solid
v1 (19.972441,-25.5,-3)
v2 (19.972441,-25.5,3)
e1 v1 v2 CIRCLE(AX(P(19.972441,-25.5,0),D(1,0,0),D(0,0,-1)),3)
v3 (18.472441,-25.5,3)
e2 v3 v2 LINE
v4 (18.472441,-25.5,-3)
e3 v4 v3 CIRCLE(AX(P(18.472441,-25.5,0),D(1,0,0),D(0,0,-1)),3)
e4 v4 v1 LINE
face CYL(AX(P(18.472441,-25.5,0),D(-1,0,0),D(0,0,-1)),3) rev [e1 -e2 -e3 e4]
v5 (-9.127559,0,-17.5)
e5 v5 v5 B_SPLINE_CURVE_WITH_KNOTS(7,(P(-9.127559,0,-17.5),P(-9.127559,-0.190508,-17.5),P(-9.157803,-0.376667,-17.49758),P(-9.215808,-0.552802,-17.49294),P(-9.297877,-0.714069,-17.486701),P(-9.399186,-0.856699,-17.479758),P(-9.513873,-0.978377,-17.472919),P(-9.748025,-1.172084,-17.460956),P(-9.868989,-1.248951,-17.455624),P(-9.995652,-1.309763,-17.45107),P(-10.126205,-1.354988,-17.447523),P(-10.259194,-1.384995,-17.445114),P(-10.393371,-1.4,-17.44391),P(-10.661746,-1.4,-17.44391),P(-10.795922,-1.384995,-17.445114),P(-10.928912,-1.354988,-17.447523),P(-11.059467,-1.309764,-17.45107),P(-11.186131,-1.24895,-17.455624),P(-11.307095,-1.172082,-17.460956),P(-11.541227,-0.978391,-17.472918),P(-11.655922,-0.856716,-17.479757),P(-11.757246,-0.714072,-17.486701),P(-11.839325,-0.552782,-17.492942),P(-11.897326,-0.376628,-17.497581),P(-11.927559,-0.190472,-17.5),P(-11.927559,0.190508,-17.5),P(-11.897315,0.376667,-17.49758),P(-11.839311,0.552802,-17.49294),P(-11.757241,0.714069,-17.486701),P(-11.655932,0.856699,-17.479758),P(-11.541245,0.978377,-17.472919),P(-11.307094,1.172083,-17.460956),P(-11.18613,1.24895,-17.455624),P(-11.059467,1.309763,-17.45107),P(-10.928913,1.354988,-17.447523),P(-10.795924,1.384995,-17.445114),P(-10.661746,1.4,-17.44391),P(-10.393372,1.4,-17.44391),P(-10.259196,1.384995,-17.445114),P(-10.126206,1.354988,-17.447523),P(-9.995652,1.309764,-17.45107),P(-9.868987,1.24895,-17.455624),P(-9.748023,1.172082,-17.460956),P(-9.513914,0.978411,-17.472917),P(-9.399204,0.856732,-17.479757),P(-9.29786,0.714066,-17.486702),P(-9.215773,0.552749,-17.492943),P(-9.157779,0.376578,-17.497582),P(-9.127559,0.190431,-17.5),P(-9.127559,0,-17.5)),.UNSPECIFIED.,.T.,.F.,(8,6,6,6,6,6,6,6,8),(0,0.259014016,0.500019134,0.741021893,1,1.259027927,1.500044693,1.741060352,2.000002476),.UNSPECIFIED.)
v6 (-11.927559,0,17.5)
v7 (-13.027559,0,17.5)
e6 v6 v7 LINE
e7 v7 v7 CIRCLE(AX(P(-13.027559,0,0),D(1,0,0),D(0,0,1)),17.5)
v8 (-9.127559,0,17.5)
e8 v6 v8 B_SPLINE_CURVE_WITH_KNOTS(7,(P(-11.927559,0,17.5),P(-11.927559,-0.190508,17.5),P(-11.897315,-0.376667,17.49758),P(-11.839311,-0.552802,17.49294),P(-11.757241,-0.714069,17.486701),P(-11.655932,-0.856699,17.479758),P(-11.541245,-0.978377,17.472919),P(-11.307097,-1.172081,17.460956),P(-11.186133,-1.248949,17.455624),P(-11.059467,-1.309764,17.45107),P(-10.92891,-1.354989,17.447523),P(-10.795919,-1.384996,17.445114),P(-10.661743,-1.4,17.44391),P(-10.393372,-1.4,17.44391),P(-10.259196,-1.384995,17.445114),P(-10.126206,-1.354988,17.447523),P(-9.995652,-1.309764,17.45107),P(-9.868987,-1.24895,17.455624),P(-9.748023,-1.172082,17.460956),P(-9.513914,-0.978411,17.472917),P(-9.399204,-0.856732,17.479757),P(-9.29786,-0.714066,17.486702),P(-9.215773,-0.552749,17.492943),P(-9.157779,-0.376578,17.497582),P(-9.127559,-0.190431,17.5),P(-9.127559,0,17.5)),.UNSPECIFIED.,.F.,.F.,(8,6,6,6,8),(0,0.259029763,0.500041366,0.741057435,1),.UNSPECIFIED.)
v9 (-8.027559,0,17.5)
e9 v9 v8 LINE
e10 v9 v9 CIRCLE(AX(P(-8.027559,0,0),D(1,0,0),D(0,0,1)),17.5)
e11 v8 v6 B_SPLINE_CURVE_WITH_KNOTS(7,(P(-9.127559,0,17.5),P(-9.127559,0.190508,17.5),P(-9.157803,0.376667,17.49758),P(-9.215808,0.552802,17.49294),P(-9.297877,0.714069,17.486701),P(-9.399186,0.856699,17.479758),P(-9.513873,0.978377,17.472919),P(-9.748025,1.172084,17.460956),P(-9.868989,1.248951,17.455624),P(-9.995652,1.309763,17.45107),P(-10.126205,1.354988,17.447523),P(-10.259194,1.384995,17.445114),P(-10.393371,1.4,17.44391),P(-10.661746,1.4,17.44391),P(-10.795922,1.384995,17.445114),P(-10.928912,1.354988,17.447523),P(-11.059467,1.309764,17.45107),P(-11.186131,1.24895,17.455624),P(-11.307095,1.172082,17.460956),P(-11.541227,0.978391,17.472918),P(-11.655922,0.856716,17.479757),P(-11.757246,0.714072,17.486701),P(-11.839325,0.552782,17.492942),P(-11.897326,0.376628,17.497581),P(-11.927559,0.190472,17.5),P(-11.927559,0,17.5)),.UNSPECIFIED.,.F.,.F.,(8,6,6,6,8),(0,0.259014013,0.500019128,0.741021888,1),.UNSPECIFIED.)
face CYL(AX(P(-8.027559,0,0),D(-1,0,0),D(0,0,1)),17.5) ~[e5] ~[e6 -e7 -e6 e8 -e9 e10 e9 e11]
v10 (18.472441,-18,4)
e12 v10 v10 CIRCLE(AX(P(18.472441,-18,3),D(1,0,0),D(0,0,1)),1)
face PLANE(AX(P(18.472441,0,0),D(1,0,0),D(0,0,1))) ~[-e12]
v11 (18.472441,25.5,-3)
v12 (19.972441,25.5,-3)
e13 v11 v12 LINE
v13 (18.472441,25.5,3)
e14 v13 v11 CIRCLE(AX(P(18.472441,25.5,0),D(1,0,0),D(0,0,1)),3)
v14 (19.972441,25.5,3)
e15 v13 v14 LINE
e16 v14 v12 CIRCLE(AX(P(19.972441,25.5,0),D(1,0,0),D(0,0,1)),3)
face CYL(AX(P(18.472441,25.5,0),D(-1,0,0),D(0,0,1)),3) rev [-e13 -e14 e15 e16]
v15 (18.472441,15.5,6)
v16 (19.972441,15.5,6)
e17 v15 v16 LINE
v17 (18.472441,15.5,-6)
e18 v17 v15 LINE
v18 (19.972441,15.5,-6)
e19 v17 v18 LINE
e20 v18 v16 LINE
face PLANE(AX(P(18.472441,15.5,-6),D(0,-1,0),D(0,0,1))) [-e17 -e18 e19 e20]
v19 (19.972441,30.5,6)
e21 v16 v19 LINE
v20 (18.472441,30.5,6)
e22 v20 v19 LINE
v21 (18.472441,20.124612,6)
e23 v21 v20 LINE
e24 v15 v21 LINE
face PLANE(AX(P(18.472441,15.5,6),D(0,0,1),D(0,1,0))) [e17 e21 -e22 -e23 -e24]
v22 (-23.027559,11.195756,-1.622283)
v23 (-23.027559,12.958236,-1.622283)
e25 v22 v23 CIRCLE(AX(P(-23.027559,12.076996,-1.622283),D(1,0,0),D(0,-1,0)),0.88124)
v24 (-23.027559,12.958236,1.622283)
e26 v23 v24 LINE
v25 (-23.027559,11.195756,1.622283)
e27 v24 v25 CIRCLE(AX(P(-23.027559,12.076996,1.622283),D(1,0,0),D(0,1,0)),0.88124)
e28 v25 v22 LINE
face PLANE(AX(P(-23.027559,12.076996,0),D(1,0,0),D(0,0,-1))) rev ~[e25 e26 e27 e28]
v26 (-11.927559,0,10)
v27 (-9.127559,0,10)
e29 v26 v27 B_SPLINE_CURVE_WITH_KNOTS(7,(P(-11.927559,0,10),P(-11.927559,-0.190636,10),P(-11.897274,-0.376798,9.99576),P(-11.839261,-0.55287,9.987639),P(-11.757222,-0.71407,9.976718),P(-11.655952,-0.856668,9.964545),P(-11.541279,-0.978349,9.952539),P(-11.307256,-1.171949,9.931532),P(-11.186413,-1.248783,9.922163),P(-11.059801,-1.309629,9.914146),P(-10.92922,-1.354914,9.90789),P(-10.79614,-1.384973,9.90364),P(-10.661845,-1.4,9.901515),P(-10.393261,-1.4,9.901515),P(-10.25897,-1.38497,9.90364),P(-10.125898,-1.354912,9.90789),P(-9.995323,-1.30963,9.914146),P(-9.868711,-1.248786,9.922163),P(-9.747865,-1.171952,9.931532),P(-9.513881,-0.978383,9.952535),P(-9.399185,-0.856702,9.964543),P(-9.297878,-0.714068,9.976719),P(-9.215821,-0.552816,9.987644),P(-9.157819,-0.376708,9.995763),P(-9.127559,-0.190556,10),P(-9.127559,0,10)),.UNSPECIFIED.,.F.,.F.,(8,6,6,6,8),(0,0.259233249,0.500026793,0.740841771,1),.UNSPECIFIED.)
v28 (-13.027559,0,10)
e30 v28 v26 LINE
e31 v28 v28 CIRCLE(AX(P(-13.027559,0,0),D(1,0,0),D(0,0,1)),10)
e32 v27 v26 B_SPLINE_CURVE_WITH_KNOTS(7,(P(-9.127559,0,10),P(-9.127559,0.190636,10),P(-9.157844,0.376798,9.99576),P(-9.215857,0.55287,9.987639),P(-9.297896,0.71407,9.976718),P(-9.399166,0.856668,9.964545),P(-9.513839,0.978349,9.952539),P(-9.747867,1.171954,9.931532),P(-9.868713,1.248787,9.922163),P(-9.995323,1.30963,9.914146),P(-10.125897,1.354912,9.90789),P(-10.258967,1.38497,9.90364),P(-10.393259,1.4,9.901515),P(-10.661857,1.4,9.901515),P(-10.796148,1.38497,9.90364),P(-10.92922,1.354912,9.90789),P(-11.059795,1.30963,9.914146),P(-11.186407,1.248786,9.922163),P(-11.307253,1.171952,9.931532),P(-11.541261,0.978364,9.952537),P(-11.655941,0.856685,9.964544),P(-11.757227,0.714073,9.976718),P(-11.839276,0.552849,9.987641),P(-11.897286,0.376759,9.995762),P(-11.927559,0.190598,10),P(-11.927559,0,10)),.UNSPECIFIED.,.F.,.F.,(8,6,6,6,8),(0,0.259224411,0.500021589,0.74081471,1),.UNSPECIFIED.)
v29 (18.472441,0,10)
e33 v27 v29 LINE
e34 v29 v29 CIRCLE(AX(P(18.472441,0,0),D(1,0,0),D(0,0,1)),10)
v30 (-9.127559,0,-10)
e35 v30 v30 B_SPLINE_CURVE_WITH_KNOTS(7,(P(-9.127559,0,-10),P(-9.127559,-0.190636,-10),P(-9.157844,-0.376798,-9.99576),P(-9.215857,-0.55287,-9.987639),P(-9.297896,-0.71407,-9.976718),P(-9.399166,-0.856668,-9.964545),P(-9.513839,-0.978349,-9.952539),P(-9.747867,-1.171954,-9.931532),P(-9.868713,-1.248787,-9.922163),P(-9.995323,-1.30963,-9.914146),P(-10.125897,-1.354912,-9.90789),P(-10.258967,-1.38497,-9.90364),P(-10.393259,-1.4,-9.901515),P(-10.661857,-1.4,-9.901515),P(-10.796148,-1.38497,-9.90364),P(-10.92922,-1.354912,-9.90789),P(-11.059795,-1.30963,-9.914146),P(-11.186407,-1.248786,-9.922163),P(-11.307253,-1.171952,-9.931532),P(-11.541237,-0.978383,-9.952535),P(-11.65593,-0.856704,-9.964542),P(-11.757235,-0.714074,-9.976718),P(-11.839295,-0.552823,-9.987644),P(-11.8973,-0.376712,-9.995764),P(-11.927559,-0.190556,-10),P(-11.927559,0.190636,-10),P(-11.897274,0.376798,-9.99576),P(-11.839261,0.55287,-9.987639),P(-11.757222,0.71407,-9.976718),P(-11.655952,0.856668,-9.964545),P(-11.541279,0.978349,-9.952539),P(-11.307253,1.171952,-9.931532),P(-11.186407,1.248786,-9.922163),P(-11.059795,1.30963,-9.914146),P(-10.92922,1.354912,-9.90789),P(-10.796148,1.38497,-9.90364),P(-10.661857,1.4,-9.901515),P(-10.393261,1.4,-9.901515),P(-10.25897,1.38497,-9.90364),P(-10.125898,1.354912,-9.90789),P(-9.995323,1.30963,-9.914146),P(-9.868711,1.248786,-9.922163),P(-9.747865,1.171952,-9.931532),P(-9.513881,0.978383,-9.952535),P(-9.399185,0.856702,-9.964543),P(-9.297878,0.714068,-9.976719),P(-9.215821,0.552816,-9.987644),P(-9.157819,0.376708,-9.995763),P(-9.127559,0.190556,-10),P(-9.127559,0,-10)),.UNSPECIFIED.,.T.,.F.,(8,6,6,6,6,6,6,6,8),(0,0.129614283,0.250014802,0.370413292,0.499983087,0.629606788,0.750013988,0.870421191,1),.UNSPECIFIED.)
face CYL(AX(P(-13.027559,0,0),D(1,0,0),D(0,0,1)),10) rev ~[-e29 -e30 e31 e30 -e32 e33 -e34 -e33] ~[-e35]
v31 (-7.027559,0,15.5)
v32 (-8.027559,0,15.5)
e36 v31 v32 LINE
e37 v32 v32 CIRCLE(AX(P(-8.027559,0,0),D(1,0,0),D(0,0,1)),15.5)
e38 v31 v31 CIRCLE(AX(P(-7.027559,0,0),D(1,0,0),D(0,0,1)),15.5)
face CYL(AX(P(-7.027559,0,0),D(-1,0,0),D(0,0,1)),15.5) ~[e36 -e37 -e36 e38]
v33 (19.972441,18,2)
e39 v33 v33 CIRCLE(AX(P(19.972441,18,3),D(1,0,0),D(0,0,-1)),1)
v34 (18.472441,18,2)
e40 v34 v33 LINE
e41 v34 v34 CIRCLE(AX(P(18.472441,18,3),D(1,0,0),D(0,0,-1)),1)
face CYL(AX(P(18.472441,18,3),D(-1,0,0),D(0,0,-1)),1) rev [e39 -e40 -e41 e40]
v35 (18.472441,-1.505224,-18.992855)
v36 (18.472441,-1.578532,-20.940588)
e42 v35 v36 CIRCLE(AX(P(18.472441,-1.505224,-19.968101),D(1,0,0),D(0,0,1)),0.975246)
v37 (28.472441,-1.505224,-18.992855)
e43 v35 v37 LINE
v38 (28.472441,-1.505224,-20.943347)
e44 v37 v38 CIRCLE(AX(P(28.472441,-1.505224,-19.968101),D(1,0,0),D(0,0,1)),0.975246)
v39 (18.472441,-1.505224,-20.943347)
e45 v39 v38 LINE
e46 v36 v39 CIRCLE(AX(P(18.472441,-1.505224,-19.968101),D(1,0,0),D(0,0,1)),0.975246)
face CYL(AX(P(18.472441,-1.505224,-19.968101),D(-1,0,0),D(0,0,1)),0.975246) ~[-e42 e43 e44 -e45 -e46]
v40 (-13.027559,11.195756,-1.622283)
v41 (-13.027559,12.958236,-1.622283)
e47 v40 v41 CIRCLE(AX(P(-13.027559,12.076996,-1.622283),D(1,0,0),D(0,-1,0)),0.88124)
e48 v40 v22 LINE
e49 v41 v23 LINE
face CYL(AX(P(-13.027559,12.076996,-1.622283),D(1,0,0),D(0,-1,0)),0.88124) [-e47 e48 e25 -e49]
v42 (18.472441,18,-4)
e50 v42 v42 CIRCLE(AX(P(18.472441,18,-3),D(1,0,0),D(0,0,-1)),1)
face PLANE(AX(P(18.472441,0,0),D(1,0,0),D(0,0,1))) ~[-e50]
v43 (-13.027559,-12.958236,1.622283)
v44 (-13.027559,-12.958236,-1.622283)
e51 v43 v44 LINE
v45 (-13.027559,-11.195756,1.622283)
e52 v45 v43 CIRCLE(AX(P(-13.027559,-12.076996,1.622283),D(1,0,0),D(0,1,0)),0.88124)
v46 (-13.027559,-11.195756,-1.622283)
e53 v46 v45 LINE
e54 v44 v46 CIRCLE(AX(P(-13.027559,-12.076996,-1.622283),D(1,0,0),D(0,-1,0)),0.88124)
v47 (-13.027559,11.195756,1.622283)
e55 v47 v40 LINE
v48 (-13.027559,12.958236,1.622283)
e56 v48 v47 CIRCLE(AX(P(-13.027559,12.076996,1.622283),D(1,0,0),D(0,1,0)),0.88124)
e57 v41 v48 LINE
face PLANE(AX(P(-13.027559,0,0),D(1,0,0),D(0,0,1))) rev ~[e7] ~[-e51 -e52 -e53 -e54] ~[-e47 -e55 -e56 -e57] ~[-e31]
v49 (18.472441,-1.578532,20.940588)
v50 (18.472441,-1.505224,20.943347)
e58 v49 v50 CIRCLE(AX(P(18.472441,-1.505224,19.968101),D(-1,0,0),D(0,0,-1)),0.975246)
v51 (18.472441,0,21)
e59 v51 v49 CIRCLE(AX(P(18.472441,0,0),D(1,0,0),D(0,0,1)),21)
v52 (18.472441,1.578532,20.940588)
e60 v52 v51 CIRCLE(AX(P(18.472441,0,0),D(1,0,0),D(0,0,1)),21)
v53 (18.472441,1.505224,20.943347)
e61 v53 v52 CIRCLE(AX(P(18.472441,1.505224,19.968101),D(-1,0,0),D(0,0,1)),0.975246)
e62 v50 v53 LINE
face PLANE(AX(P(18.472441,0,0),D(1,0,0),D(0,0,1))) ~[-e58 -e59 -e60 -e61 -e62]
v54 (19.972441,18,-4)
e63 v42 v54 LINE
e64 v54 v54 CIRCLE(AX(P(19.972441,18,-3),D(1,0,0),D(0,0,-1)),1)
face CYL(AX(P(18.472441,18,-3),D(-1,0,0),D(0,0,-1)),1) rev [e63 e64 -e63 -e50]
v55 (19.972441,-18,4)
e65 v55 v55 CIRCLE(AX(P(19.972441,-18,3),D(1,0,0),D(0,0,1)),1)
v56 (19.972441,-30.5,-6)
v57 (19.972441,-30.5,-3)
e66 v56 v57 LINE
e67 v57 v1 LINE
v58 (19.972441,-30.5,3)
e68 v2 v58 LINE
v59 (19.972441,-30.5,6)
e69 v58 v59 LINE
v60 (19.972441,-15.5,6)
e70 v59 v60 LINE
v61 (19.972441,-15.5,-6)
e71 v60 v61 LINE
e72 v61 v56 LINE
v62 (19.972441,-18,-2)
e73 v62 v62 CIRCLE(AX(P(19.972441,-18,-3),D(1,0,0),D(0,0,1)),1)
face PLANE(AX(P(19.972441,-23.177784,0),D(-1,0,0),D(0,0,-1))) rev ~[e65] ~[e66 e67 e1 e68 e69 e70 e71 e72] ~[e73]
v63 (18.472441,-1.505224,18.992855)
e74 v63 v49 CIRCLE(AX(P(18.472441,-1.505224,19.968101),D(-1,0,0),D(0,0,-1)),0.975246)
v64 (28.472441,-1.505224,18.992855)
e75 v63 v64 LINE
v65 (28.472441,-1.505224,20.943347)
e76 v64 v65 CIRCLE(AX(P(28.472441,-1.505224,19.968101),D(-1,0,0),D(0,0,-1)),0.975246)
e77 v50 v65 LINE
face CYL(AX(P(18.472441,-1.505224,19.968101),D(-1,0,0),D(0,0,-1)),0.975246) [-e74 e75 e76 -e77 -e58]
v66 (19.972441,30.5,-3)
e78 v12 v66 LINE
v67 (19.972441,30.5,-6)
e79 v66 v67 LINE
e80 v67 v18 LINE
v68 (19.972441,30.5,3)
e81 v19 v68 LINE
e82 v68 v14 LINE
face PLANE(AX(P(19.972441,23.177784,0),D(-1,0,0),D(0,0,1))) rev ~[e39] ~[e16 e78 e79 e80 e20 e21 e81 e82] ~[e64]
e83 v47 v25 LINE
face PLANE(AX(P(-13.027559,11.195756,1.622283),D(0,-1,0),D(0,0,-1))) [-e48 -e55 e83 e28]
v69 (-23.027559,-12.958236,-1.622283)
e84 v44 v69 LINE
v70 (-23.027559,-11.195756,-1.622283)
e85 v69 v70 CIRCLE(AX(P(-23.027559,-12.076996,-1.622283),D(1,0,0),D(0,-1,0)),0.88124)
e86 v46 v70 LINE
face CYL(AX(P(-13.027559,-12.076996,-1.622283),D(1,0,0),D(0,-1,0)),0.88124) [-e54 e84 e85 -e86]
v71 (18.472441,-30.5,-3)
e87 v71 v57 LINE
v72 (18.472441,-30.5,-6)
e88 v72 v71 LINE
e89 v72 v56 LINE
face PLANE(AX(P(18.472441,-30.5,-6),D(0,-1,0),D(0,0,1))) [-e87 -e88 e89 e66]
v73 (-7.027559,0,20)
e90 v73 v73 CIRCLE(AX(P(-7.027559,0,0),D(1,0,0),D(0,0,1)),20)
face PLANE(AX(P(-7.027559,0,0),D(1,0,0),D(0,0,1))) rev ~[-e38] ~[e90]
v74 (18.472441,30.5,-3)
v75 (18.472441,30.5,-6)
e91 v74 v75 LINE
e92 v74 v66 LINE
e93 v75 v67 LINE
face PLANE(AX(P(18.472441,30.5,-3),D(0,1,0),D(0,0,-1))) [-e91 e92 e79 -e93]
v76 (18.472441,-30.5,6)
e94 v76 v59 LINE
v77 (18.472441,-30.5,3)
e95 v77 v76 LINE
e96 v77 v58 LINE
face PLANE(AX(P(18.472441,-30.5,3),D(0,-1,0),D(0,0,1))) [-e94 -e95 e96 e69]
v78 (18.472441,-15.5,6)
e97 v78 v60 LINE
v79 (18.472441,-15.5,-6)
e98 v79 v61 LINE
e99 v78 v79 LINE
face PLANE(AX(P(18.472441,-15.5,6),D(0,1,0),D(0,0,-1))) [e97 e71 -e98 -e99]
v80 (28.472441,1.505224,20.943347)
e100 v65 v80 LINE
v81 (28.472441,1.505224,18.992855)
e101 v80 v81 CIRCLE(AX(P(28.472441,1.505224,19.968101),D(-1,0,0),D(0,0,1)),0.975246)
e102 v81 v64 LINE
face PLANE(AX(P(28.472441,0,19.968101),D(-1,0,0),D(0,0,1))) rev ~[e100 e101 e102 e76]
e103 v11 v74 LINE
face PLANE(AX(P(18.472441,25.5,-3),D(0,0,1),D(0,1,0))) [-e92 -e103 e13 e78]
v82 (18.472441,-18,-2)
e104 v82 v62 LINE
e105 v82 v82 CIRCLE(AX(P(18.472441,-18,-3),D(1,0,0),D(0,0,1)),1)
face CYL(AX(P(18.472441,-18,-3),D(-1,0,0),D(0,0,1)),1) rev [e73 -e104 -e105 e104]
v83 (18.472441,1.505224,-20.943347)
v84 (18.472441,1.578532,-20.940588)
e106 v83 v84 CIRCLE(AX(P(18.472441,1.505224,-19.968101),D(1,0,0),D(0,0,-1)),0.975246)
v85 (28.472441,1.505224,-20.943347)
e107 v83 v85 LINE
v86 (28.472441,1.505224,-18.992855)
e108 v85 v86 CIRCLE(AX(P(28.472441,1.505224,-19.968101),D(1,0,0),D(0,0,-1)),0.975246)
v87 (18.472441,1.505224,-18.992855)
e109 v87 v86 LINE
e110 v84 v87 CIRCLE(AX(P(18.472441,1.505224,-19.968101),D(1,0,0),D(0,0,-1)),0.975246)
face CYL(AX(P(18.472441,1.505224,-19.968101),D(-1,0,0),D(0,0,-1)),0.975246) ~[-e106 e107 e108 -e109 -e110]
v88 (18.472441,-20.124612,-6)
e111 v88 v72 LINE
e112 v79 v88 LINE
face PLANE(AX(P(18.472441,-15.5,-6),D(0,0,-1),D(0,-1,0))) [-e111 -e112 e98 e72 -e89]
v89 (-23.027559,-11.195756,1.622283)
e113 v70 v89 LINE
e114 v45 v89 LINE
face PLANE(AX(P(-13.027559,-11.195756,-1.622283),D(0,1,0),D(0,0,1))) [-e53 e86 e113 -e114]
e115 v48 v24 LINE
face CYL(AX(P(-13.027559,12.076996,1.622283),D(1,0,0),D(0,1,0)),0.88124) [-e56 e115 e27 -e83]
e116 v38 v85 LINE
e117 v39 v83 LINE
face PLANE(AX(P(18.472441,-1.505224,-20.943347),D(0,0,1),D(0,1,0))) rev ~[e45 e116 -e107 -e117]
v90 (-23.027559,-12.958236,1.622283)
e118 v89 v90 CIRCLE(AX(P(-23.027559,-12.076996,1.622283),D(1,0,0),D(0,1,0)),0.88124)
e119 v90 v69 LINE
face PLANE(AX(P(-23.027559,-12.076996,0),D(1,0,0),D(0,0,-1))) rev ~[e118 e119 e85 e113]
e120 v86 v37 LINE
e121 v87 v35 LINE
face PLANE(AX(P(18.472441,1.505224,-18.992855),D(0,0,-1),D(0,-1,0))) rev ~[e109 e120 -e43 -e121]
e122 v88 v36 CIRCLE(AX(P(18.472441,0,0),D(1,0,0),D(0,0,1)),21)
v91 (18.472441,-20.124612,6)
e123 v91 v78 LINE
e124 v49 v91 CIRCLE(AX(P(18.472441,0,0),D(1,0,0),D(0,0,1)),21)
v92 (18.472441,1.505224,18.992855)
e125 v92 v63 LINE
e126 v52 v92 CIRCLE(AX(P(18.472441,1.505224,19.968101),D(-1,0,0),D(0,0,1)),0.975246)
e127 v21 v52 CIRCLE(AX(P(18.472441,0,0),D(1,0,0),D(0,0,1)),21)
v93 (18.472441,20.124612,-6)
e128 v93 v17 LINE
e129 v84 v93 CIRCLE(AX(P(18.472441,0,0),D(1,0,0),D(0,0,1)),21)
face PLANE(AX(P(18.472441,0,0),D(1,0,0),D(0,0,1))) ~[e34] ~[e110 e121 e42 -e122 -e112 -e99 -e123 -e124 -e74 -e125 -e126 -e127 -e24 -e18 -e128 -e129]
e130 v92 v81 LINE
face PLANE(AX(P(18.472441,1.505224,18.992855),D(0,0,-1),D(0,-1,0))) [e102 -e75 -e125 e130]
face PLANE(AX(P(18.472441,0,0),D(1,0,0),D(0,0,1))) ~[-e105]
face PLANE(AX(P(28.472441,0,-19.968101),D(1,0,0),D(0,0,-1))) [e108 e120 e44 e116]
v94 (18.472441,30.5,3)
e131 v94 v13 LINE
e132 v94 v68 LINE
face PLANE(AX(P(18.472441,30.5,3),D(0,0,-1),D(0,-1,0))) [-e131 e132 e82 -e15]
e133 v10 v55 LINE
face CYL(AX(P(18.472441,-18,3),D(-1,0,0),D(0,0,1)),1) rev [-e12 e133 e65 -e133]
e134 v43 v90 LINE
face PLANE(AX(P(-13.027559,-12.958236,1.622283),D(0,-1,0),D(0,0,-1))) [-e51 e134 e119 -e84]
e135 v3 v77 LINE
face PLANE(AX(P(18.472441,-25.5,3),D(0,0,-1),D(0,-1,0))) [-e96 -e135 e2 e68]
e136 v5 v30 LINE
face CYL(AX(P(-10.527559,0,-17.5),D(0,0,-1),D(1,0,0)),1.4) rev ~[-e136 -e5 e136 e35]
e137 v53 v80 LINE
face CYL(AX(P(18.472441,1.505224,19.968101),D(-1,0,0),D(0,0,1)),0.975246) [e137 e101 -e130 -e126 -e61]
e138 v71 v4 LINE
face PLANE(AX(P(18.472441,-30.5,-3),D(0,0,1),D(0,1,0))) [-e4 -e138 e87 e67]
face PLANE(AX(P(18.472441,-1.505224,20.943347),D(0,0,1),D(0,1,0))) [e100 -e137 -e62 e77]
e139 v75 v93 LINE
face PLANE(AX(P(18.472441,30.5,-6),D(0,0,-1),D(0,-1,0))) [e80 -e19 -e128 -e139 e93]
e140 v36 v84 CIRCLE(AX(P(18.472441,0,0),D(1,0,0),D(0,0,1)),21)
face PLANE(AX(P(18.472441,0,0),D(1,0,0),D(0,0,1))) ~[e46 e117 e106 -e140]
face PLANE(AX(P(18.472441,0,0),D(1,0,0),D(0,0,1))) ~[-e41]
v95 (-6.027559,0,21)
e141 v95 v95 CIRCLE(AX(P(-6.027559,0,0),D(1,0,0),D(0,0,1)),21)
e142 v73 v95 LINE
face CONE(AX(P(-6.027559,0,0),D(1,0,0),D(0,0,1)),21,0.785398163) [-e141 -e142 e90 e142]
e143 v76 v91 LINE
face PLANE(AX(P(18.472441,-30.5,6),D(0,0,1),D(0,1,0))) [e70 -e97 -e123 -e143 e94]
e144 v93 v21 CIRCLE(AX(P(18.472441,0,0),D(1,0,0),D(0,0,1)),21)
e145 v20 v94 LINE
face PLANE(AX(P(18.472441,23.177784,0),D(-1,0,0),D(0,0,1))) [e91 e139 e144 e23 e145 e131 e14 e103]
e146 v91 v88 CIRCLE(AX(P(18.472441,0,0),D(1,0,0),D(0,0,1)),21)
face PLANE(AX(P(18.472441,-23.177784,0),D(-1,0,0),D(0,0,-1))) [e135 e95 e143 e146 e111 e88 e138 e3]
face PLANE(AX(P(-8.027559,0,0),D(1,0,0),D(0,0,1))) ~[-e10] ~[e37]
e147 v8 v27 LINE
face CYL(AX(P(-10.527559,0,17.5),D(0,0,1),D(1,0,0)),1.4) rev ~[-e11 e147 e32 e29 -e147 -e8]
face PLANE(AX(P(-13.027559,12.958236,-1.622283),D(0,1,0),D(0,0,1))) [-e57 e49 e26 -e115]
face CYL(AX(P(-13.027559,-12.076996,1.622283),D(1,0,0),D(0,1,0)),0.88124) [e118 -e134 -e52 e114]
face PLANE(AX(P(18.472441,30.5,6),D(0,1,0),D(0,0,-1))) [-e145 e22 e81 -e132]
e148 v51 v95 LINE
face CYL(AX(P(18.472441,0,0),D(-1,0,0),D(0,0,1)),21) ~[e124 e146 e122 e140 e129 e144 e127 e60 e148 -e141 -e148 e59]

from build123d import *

# Parameters (mm, degrees)
SKETCH2_R           = 1.4
CUT_EXTRUDE1_DEPTH  = 10
CIRPATTERN1_COUNT   = 2
CHAMFER1_SIZE       = 1
BOSS_EXTRUDE1_DEPTH = 10
BOSS_EXTRUDE2_DEPTH = 10
SKETCH7_R           = 1
BOSS_EXTRUDE3_DEPTH = 1.5
CIRPATTERN2_COUNT   = 2


with BuildPart() as part:
    # Sketch1 → Revolve1 (revolve)
    with BuildSketch(Plane.XY, mode=Mode.PRIVATE) as revolve1_sk:
        Polygon((-13.027559055, 10), (18.472440945, 10), (18.472440945, 21), (-7.027559055, 21), (-7.027559055, 15.5), (-8.027559055, 15.5), (-8.027559055, 17.5), (-13.027559055, 17.5), align=None)
    revolve(revolve1_sk.sketch.rotate(Axis((-13.027559055, 0, 0), (1, 0, 0)), 90), axis=Axis((-13.027559055, 0, 0), (1, 0, 0)))

    # Sketch2 → Cut-Extrude1 (cut)
    with BuildSketch(Plane.XY.offset(17.5)):
        with Locations((-10.527559055, 0)):
            Circle(SKETCH2_R)
    cut_extrude1 = extrude(amount=-CUT_EXTRUDE1_DEPTH, mode=Mode.SUBTRACT)

    # CirPattern1: Cut-Extrude1 ×2 about axis
    cirpattern1_axis = Axis((-13.027559055, 0, 0), (-1, 0, 0))
    for i in range(1, CIRPATTERN1_COUNT):
        add(cut_extrude1.rotate(cirpattern1_axis, i * 360 / CIRPATTERN1_COUNT), mode=Mode.SUBTRACT)

    # Chamfer1
    chamfer1_edges = [part.edges().sort_by_distance(p)[0] for p in [
        (-7.027559055, 0, -21),
    ]]
    chamfer(chamfer1_edges, length=CHAMFER1_SIZE)

    # Sketch5 → Boss-Extrude1 (add)
    with BuildSketch(Plane.ZY.offset(13.027559055)):
        with BuildLine():
            Line((-1.622283046, 12.958236181), (1.622283046, 12.958236181))
            ThreePointArc((1.622283046, 12.958236181), (2.503523219, 12.076996008), (1.622283046, 11.195755835))
            Line((1.622283046, 11.195755835), (-1.622283046, 11.195755835))
            ThreePointArc((-1.622283046, 11.195755835), (-2.503523219, 12.076996008), (-1.622283046, 12.958236181))
        make_face()
        with BuildLine():
            Line((1.622283046, -12.958236181), (-1.622283046, -12.958236181))
            ThreePointArc((-1.622283046, -12.958236181), (-2.503523219, -12.076996008), (-1.622283046, -11.195755835))
            Line((-1.622283046, -11.195755835), (1.622283046, -11.195755835))
            ThreePointArc((1.622283046, -11.195755835), (2.503523219, -12.076996008), (1.622283046, -12.958236181))
        make_face()
    extrude(amount=BOSS_EXTRUDE1_DEPTH)

    # Sketch6 → Boss-Extrude2 (add)
    with BuildSketch(Plane(origin=(18.472440945, 0, 0), x_dir=(0, 0, -1), z_dir=(1, 0, 0))):
        with BuildLine():
            Line((-20.943347365, -1.505224441), (-20.943347365, 1.505224441))
            ThreePointArc((-20.943347365, 1.505224441), (-19.968101194, 2.480470612), (-18.992855023, 1.505224441))
            Line((-18.992855023, 1.505224441), (-18.992855023, -1.505224441))
            ThreePointArc((-18.992855023, -1.505224441), (-19.968101194, -2.480470612), (-20.943347365, -1.505224441))
        make_face()
        with BuildLine():
            Line((18.992855023, 1.505224441), (18.992855023, -1.505224441))
            ThreePointArc((18.992855023, -1.505224441), (19.968101194, -2.480470612), (20.943347365, -1.505224441))
            Line((20.943347365, -1.505224441), (20.943347365, 1.505224441))
            ThreePointArc((20.943347365, 1.505224441), (19.968101194, 2.480470612), (18.992855023, 1.505224441))
        make_face()
    extrude(amount=BOSS_EXTRUDE2_DEPTH)

    # Sketch7 → Boss-Extrude3 (add)
    with BuildSketch(Plane(origin=(18.472440945, 0, 0), x_dir=(0, 0, -1), z_dir=(1, 0, 0))):
        with BuildLine():
            Line((-6, 30.5), (-3, 30.5))
            Line((-3, 30.5), (-3, 25.5))
            ThreePointArc((-3, 25.5), (0, 22.5), (3, 25.5))
            Line((3, 25.5), (3, 30.5))
            Line((3, 30.5), (6, 30.5))
            Line((6, 30.5), (6, 15.5))
            Line((6, 15.5), (-6, 15.5))
            Line((-6, 15.5), (-6, 30.5))
        make_face()
        with Locations((-3, 18)):
            Circle(SKETCH7_R, mode=Mode.SUBTRACT)
        with Locations((3, 18)):
            Circle(SKETCH7_R, mode=Mode.SUBTRACT)
    boss_extrude3 = extrude(amount=BOSS_EXTRUDE3_DEPTH)

    # CirPattern2: Boss-Extrude3 ×2 about axis
    cirpattern2_axis = Axis((0, 0, 0), (1, 0, 0))
    for i in range(1, CIRPATTERN2_COUNT):
        add(boss_extrude3.rotate(cirpattern2_axis, i * 360 / CIRPATTERN2_COUNT))


solid = part.part
